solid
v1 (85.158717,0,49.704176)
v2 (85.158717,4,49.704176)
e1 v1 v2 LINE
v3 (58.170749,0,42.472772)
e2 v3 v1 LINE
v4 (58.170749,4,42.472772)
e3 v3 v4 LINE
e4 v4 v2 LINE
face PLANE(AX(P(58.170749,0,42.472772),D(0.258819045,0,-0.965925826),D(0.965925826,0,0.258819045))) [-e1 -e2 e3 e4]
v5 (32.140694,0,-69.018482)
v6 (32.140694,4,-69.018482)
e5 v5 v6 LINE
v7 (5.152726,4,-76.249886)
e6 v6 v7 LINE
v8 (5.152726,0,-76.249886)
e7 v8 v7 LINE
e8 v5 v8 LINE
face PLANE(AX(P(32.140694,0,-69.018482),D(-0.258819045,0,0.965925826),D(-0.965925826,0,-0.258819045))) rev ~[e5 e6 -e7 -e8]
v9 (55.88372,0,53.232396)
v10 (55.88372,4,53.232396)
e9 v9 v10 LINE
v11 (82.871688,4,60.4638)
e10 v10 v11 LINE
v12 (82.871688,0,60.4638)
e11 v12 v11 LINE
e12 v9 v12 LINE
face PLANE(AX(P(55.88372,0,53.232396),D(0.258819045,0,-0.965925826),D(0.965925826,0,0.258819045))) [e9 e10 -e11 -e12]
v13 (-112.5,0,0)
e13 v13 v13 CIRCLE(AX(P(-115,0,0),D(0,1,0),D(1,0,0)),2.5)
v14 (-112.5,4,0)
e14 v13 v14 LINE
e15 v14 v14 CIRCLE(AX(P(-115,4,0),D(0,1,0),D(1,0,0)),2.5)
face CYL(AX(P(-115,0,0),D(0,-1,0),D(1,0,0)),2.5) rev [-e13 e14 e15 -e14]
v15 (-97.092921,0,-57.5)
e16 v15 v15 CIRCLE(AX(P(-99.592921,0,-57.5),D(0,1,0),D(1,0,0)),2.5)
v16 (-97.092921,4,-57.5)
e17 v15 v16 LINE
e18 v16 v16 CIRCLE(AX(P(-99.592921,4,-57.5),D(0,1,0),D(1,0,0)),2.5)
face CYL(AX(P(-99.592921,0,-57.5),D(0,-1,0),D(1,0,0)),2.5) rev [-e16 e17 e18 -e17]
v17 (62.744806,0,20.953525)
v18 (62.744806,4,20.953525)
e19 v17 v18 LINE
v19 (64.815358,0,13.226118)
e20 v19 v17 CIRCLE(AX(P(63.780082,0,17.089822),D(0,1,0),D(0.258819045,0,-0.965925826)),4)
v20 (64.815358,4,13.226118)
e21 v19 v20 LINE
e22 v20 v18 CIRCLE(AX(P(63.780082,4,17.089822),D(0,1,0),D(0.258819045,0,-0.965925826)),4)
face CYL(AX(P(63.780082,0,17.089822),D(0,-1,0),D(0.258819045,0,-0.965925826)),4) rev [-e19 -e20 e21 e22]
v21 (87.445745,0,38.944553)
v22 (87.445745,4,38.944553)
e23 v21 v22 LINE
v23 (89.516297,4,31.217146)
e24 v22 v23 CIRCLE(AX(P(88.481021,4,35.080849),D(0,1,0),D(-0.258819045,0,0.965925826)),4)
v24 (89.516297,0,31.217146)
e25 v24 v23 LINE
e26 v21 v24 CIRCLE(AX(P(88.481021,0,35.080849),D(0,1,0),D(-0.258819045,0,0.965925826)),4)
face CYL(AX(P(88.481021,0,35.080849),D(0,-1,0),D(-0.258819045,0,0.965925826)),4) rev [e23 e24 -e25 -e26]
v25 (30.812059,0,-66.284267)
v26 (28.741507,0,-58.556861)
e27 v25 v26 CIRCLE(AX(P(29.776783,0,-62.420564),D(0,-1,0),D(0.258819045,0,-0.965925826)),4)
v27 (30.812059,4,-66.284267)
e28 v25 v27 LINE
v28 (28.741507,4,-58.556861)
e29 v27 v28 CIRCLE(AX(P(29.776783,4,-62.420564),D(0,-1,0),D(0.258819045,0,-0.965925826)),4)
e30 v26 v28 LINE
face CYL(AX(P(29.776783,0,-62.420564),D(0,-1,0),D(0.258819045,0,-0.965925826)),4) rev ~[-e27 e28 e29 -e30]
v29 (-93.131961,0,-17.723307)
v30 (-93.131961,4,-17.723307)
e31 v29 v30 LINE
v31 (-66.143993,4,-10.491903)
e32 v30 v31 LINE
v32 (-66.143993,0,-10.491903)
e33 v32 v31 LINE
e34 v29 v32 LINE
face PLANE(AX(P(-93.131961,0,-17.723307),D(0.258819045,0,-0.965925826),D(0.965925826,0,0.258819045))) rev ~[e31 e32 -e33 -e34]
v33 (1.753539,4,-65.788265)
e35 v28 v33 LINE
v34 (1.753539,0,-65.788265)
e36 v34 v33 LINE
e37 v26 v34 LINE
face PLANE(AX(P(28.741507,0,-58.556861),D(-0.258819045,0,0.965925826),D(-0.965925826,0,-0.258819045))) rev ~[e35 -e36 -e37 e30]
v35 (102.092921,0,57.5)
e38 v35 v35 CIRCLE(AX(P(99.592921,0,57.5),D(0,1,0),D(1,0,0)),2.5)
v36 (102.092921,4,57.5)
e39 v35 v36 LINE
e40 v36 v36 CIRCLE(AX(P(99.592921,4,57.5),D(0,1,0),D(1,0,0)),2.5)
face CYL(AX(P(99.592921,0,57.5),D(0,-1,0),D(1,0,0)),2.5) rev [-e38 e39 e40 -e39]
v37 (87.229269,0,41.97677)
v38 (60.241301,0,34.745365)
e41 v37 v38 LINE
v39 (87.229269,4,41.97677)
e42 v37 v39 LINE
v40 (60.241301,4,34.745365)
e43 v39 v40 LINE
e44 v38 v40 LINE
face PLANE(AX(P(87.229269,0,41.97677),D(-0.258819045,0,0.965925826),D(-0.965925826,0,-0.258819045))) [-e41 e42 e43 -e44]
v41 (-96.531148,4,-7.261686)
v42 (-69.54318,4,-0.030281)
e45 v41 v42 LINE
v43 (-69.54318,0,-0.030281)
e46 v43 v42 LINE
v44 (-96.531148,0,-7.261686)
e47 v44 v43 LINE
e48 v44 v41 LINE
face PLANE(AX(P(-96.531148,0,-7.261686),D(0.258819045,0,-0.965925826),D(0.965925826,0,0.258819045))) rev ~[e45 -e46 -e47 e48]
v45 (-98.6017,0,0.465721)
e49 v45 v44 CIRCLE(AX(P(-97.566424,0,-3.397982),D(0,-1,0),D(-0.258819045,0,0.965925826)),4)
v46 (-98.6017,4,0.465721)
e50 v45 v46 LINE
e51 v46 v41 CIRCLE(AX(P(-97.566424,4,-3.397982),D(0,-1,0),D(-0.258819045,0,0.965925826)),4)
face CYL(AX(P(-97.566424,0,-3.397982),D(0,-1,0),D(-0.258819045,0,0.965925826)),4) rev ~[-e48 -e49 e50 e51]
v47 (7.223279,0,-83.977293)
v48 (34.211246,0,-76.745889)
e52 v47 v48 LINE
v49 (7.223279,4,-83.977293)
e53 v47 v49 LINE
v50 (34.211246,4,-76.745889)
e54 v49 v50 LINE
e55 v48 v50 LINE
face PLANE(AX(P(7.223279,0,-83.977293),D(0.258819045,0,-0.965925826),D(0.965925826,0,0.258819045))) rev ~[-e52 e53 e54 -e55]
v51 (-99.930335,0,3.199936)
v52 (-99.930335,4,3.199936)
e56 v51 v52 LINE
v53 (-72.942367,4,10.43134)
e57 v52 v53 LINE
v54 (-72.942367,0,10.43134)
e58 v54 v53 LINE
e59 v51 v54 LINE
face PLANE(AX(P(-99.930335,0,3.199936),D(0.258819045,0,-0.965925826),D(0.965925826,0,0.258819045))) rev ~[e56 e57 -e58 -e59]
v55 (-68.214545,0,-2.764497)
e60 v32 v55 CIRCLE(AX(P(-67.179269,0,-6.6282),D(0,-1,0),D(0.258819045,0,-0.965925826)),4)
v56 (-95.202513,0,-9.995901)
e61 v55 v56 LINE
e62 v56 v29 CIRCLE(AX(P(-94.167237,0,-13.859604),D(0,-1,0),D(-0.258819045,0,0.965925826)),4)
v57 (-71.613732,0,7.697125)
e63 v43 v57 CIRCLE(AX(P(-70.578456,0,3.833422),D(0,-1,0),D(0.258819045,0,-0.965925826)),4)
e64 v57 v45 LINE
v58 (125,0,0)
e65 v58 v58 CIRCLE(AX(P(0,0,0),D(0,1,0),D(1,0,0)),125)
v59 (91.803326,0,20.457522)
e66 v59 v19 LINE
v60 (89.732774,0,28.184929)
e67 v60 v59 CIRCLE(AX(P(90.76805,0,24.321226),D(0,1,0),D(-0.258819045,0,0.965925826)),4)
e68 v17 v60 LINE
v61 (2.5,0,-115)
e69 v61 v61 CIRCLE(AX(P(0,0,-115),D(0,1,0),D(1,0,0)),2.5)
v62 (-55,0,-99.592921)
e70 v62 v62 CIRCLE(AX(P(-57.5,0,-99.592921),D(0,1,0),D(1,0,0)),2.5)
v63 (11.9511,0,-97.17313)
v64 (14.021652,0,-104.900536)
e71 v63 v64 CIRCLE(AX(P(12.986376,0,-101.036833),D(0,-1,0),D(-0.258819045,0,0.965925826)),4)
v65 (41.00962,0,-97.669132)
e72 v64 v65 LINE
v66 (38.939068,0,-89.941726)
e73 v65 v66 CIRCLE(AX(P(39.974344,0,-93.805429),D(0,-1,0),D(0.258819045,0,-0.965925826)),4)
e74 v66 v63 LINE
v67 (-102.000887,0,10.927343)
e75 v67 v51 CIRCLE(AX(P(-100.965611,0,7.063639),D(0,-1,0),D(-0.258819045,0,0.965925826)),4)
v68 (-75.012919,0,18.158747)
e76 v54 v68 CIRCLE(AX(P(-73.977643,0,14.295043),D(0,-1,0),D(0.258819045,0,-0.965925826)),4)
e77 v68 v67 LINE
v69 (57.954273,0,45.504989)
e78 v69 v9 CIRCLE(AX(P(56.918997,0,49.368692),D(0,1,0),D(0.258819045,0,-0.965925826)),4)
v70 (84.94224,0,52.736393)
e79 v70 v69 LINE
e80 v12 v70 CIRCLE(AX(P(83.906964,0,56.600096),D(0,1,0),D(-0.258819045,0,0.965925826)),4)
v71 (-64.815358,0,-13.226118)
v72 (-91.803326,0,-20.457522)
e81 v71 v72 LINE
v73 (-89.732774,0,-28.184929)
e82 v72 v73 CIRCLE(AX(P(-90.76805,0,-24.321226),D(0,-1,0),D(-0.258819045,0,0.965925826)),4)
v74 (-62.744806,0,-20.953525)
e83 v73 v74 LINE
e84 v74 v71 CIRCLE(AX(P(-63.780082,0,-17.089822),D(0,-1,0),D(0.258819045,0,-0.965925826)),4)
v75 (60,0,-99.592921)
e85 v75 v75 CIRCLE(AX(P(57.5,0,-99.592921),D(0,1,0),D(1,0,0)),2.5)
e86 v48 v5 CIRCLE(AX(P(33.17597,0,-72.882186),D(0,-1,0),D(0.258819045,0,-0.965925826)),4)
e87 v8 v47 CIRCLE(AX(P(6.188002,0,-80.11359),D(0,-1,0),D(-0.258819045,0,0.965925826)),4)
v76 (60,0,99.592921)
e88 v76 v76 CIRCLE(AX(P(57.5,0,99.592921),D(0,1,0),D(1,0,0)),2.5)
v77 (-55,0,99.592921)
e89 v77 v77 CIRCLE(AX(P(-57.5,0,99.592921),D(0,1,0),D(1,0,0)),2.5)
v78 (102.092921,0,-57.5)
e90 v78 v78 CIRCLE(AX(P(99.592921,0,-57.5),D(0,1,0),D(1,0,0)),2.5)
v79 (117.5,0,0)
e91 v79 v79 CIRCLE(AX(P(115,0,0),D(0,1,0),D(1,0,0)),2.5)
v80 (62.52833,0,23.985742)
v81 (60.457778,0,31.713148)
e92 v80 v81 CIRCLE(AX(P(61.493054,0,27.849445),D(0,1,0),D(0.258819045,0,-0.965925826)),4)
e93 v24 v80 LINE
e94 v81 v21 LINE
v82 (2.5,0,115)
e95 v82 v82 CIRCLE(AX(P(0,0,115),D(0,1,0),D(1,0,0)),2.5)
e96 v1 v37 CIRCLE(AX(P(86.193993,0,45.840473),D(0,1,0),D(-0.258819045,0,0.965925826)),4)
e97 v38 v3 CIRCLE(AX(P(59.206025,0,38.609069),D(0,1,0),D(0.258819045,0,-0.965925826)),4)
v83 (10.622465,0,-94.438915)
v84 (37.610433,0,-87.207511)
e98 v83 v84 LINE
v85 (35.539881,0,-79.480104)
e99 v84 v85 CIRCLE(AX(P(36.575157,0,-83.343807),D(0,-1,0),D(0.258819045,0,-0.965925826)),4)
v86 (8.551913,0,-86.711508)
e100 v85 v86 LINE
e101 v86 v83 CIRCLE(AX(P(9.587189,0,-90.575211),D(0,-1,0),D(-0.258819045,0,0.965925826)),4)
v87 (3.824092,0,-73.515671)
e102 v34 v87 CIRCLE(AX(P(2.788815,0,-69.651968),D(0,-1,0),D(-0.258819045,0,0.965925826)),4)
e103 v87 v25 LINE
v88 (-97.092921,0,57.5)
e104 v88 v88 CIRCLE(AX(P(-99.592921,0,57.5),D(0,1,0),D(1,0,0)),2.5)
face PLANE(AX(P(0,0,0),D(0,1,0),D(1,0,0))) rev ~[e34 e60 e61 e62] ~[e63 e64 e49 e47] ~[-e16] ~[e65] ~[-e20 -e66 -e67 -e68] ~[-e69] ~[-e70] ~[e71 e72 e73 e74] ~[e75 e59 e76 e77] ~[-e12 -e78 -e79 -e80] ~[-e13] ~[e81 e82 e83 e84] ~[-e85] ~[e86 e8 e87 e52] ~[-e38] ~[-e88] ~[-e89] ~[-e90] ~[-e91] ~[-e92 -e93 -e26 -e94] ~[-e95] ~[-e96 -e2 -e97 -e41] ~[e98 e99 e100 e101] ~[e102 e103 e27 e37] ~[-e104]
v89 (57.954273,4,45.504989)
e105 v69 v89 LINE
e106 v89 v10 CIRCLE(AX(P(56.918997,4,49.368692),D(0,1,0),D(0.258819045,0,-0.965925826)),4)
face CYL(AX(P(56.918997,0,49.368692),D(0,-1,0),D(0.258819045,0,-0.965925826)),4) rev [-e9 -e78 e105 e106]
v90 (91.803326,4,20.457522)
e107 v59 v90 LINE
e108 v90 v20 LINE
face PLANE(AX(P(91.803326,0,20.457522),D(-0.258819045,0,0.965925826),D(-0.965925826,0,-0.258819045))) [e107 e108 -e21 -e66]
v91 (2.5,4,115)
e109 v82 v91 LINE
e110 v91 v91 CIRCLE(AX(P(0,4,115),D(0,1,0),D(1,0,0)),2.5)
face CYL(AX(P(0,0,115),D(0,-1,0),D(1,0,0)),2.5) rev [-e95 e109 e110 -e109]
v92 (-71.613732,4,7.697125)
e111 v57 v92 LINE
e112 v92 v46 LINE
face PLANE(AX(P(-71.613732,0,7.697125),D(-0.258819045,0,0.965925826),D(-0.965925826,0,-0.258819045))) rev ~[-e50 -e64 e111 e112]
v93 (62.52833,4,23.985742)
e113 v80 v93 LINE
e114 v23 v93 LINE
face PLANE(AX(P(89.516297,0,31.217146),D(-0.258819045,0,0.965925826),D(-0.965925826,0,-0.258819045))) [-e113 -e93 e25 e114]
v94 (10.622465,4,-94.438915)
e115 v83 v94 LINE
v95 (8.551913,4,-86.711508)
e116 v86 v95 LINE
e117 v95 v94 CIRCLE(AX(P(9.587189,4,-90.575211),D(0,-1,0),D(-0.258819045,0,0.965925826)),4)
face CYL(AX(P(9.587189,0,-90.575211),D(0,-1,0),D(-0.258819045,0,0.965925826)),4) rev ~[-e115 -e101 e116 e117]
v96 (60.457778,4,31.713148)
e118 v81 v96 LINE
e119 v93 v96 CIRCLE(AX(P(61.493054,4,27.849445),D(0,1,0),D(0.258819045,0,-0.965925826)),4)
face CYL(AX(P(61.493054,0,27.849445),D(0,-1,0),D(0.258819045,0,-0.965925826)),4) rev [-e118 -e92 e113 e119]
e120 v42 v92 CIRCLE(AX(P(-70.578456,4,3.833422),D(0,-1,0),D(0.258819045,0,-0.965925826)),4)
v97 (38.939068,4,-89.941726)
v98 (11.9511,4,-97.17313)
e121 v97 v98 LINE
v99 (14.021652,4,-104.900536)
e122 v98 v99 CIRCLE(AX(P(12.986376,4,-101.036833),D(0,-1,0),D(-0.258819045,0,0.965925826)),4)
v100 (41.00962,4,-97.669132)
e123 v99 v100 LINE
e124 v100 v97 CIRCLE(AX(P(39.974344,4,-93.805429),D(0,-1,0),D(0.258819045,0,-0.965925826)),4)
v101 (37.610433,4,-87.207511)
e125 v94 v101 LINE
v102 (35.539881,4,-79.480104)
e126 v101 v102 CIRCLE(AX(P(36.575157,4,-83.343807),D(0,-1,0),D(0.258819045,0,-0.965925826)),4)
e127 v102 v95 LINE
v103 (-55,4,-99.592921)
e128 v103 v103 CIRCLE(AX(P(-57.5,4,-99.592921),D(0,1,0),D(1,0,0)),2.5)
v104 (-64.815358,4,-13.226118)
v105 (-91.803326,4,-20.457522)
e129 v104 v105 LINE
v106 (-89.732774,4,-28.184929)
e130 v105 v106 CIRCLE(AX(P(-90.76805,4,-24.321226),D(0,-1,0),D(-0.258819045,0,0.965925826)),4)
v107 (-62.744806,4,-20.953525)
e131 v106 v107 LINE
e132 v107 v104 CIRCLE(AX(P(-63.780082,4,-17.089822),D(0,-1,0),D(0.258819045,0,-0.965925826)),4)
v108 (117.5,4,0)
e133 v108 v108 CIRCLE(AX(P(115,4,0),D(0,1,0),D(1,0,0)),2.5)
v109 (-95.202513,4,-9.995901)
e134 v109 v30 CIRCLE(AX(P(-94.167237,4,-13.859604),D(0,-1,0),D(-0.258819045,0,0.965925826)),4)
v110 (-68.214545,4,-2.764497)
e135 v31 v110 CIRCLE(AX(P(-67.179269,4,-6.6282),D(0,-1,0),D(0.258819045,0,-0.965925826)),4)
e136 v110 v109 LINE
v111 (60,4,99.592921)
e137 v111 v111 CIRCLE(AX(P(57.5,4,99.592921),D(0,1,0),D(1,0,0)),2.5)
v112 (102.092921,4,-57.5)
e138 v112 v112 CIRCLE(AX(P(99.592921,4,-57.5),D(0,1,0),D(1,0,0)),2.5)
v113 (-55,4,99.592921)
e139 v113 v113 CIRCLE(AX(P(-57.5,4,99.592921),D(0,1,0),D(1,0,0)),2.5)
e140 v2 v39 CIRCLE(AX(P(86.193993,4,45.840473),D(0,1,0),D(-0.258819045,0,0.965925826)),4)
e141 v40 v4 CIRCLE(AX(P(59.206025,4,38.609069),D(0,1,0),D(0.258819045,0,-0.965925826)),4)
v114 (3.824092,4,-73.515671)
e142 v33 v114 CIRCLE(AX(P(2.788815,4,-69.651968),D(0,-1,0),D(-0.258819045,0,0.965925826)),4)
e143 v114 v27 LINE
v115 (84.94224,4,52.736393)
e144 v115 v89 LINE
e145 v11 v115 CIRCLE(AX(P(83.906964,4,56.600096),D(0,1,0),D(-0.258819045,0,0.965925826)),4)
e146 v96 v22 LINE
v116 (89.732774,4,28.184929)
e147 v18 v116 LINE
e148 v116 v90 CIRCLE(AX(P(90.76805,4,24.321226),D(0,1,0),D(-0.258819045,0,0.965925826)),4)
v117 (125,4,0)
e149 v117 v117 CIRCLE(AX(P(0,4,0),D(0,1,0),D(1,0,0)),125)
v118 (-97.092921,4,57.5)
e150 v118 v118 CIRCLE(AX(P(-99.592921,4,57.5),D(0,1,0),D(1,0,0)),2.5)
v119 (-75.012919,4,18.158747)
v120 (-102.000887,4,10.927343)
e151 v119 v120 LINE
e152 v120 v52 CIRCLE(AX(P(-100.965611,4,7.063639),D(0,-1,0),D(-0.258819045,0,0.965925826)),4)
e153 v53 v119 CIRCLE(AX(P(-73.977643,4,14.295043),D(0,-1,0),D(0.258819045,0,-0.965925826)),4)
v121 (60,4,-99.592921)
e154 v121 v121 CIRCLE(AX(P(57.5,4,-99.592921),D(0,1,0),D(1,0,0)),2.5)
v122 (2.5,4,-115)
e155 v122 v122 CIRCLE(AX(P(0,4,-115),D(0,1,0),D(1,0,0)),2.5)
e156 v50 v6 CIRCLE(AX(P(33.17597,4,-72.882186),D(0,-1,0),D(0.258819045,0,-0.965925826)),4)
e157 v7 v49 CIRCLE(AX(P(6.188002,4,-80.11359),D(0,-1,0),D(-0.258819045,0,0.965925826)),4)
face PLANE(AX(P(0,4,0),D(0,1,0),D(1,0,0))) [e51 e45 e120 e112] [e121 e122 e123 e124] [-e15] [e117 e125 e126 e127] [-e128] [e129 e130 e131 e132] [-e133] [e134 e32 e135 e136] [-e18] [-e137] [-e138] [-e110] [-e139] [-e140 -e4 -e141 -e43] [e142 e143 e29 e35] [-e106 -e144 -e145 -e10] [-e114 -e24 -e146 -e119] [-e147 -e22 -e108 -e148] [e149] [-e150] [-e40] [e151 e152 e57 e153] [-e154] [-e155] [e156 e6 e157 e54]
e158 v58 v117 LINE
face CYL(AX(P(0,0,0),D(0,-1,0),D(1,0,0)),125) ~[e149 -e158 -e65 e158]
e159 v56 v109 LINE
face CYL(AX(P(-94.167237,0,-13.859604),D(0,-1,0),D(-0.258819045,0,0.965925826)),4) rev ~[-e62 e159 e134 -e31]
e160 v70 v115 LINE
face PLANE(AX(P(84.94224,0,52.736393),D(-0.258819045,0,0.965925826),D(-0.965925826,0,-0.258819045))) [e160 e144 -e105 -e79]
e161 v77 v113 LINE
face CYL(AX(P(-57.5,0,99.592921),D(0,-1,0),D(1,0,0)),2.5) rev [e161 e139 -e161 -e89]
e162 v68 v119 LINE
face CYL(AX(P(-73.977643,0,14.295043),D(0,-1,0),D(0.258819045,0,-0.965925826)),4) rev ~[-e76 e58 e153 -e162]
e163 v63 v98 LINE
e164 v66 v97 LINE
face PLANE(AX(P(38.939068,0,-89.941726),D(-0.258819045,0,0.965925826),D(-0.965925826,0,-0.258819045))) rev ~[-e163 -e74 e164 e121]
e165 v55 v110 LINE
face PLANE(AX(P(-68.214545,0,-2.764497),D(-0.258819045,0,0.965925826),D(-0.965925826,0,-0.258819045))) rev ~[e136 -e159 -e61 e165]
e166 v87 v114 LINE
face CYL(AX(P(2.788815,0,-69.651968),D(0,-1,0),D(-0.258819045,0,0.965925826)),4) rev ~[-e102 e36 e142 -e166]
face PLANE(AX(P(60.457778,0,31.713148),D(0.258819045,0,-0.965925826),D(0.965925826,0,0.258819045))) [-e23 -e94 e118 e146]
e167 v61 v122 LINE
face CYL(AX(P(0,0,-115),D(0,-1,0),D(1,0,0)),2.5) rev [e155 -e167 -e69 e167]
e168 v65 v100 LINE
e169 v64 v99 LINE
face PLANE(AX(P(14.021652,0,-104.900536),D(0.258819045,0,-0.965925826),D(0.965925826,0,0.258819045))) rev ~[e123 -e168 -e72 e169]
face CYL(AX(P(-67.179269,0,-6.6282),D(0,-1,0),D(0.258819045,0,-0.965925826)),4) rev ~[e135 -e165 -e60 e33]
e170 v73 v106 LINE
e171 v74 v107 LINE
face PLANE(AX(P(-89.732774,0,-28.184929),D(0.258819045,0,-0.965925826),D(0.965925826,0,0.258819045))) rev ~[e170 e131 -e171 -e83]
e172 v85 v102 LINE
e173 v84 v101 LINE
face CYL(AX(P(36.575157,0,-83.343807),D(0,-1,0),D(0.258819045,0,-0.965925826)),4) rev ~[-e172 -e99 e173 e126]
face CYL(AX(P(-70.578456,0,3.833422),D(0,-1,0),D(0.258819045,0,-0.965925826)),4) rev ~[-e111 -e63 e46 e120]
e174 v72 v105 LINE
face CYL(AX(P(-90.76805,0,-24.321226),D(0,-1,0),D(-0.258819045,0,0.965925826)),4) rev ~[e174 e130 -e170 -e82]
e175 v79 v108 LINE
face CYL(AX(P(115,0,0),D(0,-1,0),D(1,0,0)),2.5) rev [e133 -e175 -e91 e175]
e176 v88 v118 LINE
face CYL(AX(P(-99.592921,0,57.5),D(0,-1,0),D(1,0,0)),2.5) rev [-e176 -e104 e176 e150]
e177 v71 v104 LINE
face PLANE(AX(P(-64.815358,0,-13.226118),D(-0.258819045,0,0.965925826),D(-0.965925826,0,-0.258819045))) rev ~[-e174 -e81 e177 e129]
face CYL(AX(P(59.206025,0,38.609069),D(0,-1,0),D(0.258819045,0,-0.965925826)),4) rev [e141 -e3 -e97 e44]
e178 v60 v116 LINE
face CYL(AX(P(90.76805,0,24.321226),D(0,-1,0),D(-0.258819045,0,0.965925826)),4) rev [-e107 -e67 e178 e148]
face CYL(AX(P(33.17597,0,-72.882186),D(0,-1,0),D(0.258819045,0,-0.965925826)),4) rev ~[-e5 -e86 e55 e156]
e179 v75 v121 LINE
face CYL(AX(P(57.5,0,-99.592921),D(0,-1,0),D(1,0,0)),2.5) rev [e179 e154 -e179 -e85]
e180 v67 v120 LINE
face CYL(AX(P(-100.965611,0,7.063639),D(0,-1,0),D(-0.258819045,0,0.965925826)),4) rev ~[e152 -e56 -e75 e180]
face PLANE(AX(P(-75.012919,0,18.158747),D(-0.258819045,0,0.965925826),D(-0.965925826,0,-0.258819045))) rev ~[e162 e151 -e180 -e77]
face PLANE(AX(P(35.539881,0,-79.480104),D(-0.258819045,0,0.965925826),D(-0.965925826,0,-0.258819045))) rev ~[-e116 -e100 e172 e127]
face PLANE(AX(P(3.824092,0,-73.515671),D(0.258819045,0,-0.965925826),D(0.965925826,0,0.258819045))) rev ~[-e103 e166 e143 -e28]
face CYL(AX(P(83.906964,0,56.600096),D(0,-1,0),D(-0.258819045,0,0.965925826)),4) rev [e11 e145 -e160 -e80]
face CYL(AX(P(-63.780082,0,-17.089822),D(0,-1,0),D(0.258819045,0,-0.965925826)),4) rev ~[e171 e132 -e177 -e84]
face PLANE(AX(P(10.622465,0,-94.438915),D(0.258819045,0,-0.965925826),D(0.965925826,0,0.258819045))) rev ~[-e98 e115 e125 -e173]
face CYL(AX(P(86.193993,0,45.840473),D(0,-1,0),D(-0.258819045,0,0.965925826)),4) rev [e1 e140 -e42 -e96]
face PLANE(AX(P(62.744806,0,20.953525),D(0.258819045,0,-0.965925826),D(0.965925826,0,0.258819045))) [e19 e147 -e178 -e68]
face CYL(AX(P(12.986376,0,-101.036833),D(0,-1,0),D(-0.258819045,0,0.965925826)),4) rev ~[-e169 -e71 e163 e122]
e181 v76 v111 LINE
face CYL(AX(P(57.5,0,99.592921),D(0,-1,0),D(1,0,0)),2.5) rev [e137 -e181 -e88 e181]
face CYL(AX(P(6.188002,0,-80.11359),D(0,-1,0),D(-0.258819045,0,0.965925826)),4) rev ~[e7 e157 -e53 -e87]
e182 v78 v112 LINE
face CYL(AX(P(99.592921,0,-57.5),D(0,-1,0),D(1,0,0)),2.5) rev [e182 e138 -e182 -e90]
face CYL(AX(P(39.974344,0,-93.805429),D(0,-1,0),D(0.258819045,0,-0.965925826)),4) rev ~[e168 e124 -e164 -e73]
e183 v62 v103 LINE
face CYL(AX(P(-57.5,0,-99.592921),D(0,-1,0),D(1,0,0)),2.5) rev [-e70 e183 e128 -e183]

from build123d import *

# Parameters (mm, degrees)
SKETCH1_R           = 125
SKETCH1_R_2         = 2.5
BOSS_EXTRUDE1_DEPTH = 4


with BuildPart() as part:
    # Sketch1 → Boss-Extrude1 (new body)
    with BuildSketch(Plane(origin=(0, 0, 0), x_dir=(1, 0, 0), z_dir=(0, 1, 0))):
        Circle(SKETCH1_R)
        with Locations((-115, 0)):
            Circle(SKETCH1_R_2, mode=Mode.SUBTRACT)
        with Locations((-99.592921435, 57.5)):
            Circle(SKETCH1_R_2, mode=Mode.SUBTRACT)
        with Locations((-57.5, 99.592921435)):
            Circle(SKETCH1_R_2, mode=Mode.SUBTRACT)
        with Locations((0, 115)):
            Circle(SKETCH1_R_2, mode=Mode.SUBTRACT)
        with Locations((57.5, 99.592921435)):
            Circle(SKETCH1_R_2, mode=Mode.SUBTRACT)
        with Locations((99.592921435, 57.5)):
            Circle(SKETCH1_R_2, mode=Mode.SUBTRACT)
        with Locations((115, 0)):
            Circle(SKETCH1_R_2, mode=Mode.SUBTRACT)
        with Locations((99.592921435, -57.5)):
            Circle(SKETCH1_R_2, mode=Mode.SUBTRACT)
        with Locations((57.5, -99.592921435)):
            Circle(SKETCH1_R_2, mode=Mode.SUBTRACT)
        with Locations((0, -115)):
            Circle(SKETCH1_R_2, mode=Mode.SUBTRACT)
        with Locations((-57.5, -99.592921435)):
            Circle(SKETCH1_R_2, mode=Mode.SUBTRACT)
        with Locations((-99.592921435, -57.5)):
            Circle(SKETCH1_R_2, mode=Mode.SUBTRACT)
        with BuildLine():
            Line((-89.732773716, 28.184928973), (-62.744806129, 20.953524853))
            ThreePointArc((-62.744806129, 20.953524853), (-59.916379005, 16.054545368), (-64.81535849, 13.226118243))
            Line((-64.81535849, 13.226118243), (-91.803326077, 20.457522363))
            ThreePointArc((-91.803326077, 20.457522363), (-94.631753202, 25.356501849), (-89.732773716, 28.184928973))
        make_face(mode=Mode.SUBTRACT)
        with BuildLine():
            Line((-93.131960654, 17.723307294), (-66.143993068, 10.491903174))
            ThreePointArc((-66.143993068, 10.491903174), (-63.315565943, 5.592923688), (-68.214545428, 2.764496564))
            Line((-68.214545428, 2.764496564), (-95.202513015, 9.995900684))
            ThreePointArc((-95.202513015, 9.995900684), (-98.03094014, 14.894880169), (-93.131960654, 17.723307294))
        make_face(mode=Mode.SUBTRACT)
        with BuildLine():
            Line((-96.531147592, 7.261685615), (-69.543180006, 0.030281495))
            ThreePointArc((-69.543180006, 0.030281495), (-66.714752881, -4.868697991), (-71.613732367, -7.697125116))
            Line((-71.613732367, -7.697125116), (-98.601699953, -0.465720995))
            ThreePointArc((-98.601699953, -0.465720995), (-101.430127078, 4.43325849), (-96.531147592, 7.261685615))
        make_face(mode=Mode.SUBTRACT)
        with BuildLine():
            Line((-99.93033453, -3.199936064), (-72.942366944, -10.431340184))
            ThreePointArc((-72.942366944, -10.431340184), (-70.113939819, -15.33031967), (-75.012919305, -18.158746795))
            Line((-75.012919305, -18.158746795), (-102.000886891, -10.927342675))
            ThreePointArc((-102.000886891, -10.927342675), (-104.829314016, -6.028363189), (-99.93033453, -3.199936064))
        make_face(mode=Mode.SUBTRACT)
        with BuildLine():
            Line((91.803326077, -20.457522363), (64.81535849, -13.226118243))
            ThreePointArc((64.81535849, -13.226118243), (59.916379005, -16.054545368), (62.744806129, -20.953524853))
            Line((62.744806129, -20.953524853), (89.732773716, -28.184928973))
            ThreePointArc((89.732773716, -28.184928973), (94.631753202, -25.356501849), (91.803326077, -20.457522363))
        make_face(mode=Mode.SUBTRACT)
        with BuildLine():
            Line((89.516297478, -31.217145971), (62.528329891, -23.985741851))
            ThreePointArc((62.528329891, -23.985741851), (57.629350406, -26.814168976), (60.45777753, -31.713148461))
            Line((60.45777753, -31.713148461), (87.445745117, -38.944552582))
            ThreePointArc((87.445745117, -38.944552582), (92.344724603, -36.116125457), (89.516297478, -31.217145971))
        make_face(mode=Mode.SUBTRACT)
        with BuildLine():
            Line((87.229268879, -41.976769579), (60.241301292, -34.745365459))
            ThreePointArc((60.241301292, -34.745365459), (55.342321807, -37.573792584), (58.170748931, -42.472772069))
            Line((58.170748931, -42.472772069), (85.158716518, -49.70417619))
            ThreePointArc((85.158716518, -49.70417619), (90.057696004, -46.875749065), (87.229268879, -41.976769579))
        make_face(mode=Mode.SUBTRACT)
        with BuildLine():
            Line((84.94224028, -52.736393187), (57.954272693, -45.504989067))
            ThreePointArc((57.954272693, -45.504989067), (53.055293208, -48.333416192), (55.883720332, -53.232395677))
            Line((55.883720332, -53.232395677), (82.871687919, -60.463799798))
            ThreePointArc((82.871687919, -60.463799798), (87.770667405, -57.635372673), (84.94224028, -52.736393187))
        make_face(mode=Mode.SUBTRACT)
        with BuildLine():
            Line((14.021652384, 104.900536337), (41.00961997, 97.669132217))
            ThreePointArc((41.00961997, 97.669132217), (43.838047095, 92.770152731), (38.939067609, 89.941725607))
            Line((38.939067609, 89.941725607), (11.951100023, 97.173129727))
            ThreePointArc((11.951100023, 97.173129727), (9.122672898, 102.072109212), (14.021652384, 104.900536337))
        make_face(mode=Mode.SUBTRACT)
        with BuildLine():
            Line((10.622465446, 94.438914658), (37.610433032, 87.207510538))
            ThreePointArc((37.610433032, 87.207510538), (40.438860157, 82.308531052), (35.539880671, 79.480103927))
            Line((35.539880671, 79.480103927), (8.551913085, 86.711508048))
            ThreePointArc((8.551913085, 86.711508048), (5.72348596, 91.610487533), (10.622465446, 94.438914658))
        make_face(mode=Mode.SUBTRACT)
        with BuildLine():
            Line((7.223278507, 83.977292979), (34.211246094, 76.745888859))
            ThreePointArc((34.211246094, 76.745888859), (37.039673219, 71.846909373), (32.140693733, 69.018482248))
            Line((32.140693733, 69.018482248), (5.152726147, 76.249886368))
            ThreePointArc((5.152726147, 76.249886368), (2.324299022, 81.148865854), (7.223278507, 83.977292979))
        make_face(mode=Mode.SUBTRACT)
        with BuildLine():
            Line((3.824091569, 73.515671299), (30.812059156, 66.284267179))
            ThreePointArc((30.812059156, 66.284267179), (33.640486281, 61.385287694), (28.741506795, 58.556860569))
            Line((28.741506795, 58.556860569), (1.753539208, 65.788264689))
            ThreePointArc((1.753539208, 65.788264689), (-1.074887916, 70.687244175), (3.824091569, 73.515671299))
        make_face(mode=Mode.SUBTRACT)
    extrude(amount=BOSS_EXTRUDE1_DEPTH)


solid = part.part
